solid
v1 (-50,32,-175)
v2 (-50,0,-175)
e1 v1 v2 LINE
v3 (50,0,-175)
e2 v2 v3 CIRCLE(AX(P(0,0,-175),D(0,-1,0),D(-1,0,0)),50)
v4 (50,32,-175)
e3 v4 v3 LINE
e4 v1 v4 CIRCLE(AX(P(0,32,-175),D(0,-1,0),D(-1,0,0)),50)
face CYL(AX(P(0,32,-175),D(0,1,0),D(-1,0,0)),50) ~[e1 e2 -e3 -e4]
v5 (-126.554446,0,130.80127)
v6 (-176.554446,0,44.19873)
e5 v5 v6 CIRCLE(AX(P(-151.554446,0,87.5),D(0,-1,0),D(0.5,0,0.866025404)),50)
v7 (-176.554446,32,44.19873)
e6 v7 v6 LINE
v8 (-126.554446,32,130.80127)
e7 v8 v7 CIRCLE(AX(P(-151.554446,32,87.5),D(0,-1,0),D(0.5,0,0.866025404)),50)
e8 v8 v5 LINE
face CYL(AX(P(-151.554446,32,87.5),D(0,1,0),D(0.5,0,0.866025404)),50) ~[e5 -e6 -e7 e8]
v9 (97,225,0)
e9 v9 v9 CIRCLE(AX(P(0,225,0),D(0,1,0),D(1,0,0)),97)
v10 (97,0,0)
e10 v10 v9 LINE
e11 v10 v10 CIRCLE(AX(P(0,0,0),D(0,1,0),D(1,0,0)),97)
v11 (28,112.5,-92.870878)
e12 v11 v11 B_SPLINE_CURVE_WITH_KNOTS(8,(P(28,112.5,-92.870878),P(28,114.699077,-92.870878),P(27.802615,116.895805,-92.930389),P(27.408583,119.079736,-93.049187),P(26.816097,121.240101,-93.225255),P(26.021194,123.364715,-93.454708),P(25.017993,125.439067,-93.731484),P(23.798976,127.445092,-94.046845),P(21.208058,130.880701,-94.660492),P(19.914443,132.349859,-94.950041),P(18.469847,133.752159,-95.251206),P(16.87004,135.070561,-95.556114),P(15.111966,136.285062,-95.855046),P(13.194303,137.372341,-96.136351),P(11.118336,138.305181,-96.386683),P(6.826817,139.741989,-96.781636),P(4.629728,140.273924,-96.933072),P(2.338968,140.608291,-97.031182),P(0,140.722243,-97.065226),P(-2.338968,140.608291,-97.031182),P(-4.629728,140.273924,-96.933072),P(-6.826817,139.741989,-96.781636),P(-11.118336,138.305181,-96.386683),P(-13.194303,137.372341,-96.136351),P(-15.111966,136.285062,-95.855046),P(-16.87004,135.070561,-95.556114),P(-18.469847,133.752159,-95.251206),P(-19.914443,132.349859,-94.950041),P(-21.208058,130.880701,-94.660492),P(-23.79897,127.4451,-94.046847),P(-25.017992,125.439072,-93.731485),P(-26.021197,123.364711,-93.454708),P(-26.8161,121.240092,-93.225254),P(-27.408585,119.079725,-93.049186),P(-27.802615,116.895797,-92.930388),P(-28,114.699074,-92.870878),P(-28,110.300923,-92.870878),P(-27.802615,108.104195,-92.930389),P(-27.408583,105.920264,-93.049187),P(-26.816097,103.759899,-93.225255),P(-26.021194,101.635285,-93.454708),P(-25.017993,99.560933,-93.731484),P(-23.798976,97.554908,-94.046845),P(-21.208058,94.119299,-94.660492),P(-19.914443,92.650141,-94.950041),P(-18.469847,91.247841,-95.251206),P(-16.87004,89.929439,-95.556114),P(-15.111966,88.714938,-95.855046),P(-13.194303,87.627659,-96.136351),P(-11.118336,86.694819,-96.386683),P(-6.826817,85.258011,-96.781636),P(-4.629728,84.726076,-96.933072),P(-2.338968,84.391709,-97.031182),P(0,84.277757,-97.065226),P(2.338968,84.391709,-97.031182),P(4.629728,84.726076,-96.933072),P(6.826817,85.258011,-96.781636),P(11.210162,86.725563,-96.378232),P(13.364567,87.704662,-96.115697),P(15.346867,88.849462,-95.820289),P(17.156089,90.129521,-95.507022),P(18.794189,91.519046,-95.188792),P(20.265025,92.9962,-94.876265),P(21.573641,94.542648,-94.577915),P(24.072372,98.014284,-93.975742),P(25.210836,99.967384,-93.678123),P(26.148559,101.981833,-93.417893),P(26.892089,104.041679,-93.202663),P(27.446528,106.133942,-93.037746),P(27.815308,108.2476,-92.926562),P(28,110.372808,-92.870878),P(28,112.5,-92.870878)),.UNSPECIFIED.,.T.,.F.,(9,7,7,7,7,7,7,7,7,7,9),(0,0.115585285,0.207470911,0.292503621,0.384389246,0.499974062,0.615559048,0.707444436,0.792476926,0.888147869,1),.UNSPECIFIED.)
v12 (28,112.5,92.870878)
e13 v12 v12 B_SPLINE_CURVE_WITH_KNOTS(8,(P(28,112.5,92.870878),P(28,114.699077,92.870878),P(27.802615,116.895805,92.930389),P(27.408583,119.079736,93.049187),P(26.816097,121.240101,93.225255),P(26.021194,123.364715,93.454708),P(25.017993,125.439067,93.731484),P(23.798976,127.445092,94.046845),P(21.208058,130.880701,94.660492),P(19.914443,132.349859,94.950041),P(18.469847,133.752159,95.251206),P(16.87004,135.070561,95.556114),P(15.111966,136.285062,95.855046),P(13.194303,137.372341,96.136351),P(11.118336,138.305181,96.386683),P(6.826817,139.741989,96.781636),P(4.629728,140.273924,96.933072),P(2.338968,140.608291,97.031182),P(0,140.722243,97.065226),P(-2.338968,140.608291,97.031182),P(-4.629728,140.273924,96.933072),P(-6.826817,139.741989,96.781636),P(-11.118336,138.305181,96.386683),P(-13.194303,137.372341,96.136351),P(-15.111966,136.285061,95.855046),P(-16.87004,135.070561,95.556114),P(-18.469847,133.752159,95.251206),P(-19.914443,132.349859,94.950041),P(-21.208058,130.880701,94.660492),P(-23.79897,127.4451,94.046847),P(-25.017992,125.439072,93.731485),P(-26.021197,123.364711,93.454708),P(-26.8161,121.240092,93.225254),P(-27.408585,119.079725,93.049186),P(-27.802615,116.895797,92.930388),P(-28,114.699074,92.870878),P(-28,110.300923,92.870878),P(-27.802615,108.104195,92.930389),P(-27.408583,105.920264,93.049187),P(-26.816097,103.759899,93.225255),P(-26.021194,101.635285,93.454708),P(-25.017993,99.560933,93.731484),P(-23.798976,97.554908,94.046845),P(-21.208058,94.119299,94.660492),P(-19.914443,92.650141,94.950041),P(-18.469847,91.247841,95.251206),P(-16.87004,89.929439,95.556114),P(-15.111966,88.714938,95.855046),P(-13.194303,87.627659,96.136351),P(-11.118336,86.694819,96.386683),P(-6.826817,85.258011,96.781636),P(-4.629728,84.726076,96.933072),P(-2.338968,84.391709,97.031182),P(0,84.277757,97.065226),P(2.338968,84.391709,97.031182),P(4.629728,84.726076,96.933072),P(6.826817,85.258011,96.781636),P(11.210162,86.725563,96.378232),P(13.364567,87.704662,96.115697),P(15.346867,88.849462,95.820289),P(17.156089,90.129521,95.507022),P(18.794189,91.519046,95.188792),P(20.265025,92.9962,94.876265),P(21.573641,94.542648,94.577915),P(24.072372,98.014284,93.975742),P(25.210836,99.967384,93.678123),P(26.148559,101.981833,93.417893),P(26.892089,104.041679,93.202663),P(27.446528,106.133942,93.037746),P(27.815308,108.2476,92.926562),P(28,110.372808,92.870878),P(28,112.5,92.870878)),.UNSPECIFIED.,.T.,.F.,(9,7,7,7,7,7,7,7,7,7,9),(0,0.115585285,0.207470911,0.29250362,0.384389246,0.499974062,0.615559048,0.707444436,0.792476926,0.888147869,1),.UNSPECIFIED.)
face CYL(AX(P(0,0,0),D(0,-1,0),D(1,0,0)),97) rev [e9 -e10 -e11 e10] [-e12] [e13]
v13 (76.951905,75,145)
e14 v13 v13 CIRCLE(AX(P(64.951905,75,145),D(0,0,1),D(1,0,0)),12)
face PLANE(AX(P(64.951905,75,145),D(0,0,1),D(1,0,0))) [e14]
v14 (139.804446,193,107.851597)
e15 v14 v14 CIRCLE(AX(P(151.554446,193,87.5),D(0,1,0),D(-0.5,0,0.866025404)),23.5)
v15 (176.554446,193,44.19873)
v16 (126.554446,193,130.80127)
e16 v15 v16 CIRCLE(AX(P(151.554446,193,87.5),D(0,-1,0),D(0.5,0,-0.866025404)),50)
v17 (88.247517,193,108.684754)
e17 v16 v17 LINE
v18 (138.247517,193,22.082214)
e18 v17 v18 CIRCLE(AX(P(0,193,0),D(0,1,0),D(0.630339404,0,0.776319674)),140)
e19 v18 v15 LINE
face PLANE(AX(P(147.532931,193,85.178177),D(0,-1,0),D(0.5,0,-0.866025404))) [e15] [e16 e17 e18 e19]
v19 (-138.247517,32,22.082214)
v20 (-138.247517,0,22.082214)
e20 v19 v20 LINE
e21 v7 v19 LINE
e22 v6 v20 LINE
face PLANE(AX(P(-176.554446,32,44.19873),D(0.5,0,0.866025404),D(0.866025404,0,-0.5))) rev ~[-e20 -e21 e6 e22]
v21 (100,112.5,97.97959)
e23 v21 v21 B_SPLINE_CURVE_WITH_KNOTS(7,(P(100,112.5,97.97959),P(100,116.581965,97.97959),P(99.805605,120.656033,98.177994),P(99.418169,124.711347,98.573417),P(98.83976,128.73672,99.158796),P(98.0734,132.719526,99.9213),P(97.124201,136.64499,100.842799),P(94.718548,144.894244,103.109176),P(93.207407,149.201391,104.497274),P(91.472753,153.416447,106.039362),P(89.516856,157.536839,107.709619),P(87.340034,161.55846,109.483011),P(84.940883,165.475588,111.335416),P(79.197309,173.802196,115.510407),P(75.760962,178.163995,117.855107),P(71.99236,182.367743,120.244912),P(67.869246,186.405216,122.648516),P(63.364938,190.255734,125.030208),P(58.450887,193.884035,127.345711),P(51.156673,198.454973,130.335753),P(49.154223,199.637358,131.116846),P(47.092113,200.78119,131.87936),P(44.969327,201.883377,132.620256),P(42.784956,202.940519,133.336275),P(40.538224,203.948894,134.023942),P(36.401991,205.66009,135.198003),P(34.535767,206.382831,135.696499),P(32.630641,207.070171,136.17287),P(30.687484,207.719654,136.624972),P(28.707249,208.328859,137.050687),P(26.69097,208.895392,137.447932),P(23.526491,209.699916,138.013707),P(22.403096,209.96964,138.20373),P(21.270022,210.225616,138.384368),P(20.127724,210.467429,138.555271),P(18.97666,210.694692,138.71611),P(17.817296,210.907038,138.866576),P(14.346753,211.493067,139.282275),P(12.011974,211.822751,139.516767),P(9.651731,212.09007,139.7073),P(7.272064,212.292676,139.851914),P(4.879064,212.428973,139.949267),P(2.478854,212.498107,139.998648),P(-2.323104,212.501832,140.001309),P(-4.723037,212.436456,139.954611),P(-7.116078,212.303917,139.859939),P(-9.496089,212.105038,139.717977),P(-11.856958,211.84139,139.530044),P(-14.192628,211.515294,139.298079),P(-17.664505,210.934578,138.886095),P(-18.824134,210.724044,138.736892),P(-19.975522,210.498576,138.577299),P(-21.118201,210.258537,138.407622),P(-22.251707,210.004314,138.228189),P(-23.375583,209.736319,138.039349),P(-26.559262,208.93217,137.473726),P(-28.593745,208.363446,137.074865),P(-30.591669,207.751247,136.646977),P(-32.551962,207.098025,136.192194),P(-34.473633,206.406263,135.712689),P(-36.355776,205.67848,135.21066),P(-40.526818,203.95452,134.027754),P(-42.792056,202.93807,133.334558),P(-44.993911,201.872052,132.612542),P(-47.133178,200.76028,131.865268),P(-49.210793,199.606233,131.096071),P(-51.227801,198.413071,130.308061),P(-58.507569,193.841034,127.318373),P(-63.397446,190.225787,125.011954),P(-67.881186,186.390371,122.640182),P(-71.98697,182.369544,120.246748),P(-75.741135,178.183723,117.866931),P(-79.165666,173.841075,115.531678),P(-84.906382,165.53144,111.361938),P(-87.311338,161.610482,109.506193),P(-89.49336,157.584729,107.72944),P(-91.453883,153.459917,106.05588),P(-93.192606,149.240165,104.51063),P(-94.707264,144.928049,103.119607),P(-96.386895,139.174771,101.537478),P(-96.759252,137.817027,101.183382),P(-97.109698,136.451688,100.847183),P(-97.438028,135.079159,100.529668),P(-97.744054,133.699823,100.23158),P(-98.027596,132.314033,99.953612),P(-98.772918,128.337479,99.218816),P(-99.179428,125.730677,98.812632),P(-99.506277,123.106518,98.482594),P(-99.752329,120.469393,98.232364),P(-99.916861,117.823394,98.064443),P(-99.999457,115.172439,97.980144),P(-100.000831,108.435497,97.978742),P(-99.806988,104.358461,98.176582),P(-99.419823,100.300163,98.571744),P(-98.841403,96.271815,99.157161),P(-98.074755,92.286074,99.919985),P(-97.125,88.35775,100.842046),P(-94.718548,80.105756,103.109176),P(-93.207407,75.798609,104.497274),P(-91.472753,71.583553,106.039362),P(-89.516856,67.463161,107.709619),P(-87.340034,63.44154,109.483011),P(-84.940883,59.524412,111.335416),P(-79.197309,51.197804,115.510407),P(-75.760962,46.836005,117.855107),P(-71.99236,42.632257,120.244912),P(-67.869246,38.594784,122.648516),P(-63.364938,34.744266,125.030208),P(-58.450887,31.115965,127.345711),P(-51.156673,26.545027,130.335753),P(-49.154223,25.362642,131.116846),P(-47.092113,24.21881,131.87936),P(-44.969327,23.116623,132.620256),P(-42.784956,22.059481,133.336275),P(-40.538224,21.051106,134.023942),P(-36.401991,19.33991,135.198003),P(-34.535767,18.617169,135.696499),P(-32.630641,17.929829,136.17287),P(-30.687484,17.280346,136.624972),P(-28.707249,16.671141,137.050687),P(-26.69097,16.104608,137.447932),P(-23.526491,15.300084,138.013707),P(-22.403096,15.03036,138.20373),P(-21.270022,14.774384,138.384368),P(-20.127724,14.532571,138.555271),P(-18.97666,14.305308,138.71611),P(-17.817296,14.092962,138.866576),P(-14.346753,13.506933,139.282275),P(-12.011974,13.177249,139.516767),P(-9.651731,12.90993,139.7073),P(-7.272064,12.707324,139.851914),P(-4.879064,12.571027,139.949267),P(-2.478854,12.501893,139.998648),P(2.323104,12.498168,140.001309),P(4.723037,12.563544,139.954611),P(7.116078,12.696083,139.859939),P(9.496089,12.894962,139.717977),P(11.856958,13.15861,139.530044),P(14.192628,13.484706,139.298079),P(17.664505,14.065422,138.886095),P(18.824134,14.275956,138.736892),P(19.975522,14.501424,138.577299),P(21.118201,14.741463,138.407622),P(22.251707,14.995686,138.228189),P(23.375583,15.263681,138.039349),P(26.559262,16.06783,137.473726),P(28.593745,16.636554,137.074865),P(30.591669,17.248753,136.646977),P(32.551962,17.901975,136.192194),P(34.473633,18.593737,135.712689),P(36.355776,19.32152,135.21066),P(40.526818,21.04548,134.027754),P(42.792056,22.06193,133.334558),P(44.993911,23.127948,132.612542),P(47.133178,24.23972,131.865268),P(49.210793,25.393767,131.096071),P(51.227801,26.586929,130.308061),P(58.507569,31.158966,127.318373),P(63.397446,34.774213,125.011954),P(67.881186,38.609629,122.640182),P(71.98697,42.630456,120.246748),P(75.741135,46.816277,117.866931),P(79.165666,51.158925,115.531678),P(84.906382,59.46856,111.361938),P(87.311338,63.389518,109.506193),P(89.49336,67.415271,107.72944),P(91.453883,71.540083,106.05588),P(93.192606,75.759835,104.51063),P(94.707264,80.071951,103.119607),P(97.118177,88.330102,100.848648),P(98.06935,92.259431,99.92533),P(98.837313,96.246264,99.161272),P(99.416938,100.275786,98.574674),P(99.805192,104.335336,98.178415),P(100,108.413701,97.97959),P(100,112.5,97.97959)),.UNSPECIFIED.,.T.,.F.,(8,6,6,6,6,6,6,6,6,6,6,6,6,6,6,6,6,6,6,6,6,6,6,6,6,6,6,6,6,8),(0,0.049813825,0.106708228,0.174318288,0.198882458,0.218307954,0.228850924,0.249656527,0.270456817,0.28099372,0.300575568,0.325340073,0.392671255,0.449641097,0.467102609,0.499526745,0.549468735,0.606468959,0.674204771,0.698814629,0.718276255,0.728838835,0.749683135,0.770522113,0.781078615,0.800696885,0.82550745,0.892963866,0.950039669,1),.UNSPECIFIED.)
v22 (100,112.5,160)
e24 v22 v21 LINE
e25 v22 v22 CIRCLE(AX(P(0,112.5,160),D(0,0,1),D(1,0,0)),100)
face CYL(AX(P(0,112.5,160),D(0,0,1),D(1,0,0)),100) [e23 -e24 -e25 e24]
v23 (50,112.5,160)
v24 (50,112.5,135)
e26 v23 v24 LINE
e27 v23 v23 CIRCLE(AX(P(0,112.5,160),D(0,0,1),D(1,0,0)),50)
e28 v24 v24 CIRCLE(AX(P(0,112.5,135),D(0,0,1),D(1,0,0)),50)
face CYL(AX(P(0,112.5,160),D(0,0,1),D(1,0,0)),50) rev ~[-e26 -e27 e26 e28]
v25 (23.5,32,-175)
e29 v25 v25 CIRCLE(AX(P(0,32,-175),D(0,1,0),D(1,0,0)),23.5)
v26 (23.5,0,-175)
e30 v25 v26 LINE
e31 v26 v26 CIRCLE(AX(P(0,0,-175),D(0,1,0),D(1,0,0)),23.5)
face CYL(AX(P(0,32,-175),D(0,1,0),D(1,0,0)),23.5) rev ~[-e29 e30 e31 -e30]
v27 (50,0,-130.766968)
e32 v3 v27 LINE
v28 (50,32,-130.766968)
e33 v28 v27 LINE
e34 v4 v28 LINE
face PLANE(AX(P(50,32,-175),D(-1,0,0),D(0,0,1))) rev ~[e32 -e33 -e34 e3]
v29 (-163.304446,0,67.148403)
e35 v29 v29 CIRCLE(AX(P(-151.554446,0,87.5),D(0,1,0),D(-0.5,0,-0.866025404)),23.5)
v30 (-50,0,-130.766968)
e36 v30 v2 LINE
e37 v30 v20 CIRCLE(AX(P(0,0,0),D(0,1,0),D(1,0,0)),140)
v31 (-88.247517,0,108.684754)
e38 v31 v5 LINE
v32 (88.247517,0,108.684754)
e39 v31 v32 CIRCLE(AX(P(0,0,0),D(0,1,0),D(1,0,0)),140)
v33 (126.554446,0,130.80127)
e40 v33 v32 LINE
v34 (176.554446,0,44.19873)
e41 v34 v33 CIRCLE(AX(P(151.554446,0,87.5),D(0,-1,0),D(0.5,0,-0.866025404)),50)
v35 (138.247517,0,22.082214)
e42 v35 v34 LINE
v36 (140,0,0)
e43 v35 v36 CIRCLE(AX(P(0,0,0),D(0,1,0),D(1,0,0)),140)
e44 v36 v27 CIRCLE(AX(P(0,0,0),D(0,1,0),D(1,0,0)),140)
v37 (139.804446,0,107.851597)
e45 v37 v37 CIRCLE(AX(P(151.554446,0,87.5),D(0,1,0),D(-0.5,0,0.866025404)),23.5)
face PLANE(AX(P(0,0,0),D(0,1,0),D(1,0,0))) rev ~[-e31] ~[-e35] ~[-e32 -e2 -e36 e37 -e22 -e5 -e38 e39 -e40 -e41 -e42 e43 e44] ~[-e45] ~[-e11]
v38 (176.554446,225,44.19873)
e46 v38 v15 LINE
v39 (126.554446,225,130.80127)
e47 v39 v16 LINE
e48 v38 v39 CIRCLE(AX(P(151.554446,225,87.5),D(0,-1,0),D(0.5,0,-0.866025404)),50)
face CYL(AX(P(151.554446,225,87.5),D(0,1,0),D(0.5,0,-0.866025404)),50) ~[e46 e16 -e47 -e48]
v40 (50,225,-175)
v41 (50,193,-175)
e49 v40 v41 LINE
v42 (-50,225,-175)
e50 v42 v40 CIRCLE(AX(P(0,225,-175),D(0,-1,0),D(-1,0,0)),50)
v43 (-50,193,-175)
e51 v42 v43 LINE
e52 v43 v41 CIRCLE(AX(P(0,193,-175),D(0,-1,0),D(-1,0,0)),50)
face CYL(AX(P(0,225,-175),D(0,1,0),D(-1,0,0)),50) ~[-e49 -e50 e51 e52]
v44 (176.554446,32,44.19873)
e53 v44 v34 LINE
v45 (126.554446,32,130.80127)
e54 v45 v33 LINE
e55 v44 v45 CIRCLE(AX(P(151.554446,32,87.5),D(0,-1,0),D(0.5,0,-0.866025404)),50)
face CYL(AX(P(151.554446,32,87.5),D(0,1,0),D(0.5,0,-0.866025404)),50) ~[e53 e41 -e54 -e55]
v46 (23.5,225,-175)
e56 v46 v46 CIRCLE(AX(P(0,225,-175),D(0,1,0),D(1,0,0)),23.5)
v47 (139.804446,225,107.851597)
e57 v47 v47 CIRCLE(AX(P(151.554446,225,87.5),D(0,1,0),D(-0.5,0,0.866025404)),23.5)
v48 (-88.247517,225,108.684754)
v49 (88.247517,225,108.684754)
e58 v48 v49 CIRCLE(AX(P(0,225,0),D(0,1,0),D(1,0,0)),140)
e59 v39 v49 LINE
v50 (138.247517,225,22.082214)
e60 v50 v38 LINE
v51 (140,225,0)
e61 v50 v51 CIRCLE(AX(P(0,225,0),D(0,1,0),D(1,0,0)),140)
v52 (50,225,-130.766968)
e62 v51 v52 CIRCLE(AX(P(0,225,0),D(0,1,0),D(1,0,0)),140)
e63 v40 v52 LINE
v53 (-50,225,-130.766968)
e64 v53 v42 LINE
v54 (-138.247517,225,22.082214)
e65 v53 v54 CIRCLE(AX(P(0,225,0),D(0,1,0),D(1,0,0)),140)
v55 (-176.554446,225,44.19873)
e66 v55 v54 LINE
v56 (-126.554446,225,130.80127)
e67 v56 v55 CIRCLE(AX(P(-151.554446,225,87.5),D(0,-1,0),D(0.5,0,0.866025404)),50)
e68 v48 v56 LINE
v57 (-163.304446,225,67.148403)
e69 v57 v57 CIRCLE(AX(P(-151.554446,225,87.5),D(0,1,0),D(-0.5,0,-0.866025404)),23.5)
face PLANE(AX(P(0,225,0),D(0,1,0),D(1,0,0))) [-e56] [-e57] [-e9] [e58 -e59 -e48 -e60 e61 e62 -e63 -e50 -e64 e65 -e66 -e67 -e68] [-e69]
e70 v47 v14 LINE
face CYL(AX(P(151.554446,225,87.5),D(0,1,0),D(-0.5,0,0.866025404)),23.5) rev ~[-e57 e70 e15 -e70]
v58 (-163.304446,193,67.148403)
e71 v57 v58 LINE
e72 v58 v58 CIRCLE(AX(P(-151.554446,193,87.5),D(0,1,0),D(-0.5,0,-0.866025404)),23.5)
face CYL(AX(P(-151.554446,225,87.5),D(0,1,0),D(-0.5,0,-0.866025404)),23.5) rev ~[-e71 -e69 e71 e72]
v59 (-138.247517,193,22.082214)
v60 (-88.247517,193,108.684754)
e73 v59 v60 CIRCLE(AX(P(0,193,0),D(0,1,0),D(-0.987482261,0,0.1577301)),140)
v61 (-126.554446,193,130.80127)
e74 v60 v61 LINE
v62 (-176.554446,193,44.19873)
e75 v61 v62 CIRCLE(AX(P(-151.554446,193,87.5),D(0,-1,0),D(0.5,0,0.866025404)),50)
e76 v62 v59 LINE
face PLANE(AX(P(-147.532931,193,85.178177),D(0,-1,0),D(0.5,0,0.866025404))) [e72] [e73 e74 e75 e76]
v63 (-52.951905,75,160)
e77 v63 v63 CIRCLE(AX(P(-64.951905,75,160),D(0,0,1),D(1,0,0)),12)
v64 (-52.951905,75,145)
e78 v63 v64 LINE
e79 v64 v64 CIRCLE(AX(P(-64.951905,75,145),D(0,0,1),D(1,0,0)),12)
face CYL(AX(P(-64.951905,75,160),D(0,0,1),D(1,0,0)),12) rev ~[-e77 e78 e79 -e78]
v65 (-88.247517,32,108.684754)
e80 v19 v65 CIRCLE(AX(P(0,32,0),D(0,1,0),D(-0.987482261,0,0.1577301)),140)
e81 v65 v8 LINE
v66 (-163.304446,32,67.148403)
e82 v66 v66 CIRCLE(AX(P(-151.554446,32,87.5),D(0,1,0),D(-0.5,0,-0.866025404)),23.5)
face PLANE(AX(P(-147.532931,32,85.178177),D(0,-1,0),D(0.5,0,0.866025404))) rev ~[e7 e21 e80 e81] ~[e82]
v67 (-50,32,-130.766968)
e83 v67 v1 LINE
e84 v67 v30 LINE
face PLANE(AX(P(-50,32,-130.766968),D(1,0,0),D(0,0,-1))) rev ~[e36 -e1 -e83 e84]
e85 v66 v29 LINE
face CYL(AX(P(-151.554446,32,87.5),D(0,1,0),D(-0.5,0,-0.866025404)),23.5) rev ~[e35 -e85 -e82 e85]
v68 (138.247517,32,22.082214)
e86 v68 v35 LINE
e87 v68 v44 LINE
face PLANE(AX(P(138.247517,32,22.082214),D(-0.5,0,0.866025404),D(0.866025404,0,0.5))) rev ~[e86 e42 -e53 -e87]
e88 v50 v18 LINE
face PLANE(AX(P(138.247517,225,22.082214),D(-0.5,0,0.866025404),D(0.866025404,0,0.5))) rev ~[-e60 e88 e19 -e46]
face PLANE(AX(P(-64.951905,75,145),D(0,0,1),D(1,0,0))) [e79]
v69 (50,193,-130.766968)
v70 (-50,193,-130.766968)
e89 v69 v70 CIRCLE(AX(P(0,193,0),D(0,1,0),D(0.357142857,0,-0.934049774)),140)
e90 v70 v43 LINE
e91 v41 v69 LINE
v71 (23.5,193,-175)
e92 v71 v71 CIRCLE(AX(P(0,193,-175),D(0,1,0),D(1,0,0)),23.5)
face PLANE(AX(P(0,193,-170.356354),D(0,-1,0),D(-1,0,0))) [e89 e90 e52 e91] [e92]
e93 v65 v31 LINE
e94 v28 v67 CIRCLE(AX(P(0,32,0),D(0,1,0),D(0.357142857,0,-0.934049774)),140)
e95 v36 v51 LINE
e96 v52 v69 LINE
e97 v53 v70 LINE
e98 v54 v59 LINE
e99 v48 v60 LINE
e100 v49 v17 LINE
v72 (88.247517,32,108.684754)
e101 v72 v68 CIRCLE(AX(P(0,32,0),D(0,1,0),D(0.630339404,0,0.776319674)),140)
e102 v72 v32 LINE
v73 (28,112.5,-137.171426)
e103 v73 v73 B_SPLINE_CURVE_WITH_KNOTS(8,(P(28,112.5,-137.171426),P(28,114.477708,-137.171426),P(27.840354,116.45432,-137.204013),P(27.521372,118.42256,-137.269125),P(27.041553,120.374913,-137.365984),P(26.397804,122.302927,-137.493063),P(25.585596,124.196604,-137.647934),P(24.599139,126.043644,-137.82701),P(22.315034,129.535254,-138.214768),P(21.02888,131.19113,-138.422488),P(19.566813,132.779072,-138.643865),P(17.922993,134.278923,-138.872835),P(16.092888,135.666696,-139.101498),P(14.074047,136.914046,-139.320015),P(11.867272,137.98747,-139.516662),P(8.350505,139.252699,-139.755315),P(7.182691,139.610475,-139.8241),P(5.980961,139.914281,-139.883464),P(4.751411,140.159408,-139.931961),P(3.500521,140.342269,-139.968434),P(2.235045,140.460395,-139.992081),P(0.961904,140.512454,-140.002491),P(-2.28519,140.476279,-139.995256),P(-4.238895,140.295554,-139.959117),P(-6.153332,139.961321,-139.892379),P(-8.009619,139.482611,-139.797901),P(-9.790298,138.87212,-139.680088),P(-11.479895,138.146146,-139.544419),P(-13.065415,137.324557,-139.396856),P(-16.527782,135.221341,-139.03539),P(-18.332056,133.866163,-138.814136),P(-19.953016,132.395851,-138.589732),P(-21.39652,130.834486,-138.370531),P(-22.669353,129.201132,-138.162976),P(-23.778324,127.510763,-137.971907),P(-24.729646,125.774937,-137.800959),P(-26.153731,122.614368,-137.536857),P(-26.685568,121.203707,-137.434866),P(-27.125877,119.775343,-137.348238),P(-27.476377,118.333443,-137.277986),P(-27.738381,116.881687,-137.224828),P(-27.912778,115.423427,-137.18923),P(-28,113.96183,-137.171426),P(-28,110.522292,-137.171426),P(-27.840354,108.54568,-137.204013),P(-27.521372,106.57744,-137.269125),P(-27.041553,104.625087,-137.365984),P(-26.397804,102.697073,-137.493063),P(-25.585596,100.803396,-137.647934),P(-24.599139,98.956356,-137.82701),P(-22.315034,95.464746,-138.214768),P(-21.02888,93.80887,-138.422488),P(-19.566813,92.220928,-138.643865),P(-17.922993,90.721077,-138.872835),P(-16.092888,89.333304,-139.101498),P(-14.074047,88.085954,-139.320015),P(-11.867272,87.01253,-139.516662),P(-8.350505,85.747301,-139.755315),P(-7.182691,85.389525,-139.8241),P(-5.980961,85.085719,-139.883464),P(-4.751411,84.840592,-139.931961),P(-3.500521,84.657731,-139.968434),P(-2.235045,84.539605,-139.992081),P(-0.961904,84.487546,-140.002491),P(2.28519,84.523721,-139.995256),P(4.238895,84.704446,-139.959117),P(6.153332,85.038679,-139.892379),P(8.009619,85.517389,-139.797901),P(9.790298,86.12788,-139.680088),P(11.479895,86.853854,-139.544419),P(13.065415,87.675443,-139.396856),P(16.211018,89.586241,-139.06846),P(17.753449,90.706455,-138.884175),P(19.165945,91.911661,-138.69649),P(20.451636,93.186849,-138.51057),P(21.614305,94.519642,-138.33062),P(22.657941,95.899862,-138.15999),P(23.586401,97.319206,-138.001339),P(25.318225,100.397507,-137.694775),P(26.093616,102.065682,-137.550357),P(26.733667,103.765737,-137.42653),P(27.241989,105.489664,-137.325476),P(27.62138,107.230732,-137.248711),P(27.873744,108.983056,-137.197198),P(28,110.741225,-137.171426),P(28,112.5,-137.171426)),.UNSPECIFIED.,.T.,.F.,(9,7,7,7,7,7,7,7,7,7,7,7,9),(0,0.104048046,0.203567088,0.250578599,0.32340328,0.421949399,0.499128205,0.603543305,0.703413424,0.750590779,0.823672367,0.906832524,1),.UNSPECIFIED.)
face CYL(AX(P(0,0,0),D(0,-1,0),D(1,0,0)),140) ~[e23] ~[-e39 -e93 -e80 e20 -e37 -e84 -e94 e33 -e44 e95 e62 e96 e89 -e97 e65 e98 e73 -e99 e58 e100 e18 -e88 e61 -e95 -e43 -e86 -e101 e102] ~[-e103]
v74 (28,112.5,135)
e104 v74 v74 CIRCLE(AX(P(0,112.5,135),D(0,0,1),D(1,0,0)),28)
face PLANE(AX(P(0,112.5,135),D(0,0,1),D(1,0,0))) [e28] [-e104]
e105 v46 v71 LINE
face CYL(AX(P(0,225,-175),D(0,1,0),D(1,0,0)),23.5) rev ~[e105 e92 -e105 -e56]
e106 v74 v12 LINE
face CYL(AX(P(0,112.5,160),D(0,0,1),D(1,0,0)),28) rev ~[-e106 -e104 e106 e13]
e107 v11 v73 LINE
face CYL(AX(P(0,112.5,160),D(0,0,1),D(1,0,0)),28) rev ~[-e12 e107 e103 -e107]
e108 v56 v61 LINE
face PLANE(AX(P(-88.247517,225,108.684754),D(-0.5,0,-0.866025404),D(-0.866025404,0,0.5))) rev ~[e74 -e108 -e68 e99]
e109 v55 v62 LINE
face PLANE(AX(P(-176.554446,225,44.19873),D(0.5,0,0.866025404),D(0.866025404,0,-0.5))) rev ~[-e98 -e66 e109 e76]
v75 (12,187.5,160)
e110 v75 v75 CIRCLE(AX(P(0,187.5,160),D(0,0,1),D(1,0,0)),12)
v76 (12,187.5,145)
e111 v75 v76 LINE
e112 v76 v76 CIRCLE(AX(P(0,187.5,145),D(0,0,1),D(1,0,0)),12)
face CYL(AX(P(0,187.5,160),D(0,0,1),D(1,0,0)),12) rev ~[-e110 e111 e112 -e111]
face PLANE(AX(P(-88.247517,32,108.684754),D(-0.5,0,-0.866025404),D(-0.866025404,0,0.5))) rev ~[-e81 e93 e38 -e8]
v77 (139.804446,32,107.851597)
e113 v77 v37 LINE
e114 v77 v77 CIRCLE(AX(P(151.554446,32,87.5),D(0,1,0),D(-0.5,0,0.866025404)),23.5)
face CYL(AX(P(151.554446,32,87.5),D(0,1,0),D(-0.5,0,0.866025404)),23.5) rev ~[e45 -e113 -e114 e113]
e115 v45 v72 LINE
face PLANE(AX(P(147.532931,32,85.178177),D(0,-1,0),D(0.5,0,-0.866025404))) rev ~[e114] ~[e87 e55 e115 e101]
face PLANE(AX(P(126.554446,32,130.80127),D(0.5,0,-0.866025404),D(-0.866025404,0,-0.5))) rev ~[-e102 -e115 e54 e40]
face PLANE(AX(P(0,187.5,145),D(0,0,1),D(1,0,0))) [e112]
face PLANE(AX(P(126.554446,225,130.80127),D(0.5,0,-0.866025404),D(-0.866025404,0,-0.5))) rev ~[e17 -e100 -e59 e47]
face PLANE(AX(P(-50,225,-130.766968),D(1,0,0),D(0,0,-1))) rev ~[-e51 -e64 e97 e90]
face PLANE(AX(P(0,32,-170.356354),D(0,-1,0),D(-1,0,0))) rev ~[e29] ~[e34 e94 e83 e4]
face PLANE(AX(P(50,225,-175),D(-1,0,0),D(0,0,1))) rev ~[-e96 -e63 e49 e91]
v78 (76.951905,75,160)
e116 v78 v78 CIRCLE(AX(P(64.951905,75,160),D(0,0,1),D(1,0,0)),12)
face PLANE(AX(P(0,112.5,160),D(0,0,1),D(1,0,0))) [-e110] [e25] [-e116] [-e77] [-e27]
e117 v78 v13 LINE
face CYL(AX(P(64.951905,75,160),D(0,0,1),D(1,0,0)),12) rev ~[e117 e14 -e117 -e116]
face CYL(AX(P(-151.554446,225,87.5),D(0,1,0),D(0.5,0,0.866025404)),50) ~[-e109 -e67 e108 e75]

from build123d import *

# Parameters (mm, degrees)
SKETCH1_R                   = 140
SKETCH1_R_2                 = 97
BOSS_EXTRUDE1_DEPTH         = 225
SKETCH2_R                   = 23.5
BOSS_EXTRUDE2_DEPTH         = 32
CIRPATTERN1_COUNT           = 3
LPATTERN2_COUNT             = 2
LPATTERN2_PITCH             = 193
CIRPATTERN2_COPY_1_SKETCH_R = 23.5
CIRPATTERN2_COPY_1_DEPTH    = 32
CIRPATTERN2_COPY_2_SKETCH_R = 23.5
CIRPATTERN2_COPY_2_DEPTH    = 32
CIRPATTERN2_COPY_3_SKETCH_R = 23.5
CIRPATTERN2_COPY_3_DEPTH    = 32
CIRPATTERN2_COPY_4_SKETCH_R = 23.5
CIRPATTERN2_COPY_4_DEPTH    = 32
BOSS_EXTRUDE3_REACH         = 387
SKETCH3_R                   = 100
SKETCH4_R                   = 28
CUT_EXTRUDE1_DEPTH          = 386
SKETCH5_R                   = 50
CUT_EXTRUDE2_DEPTH          = 25
SKETCH6_R                   = 12
CUT_EXTRUDE3_DEPTH          = 15


with BuildPart() as part:
    # Sketch1 → Boss-Extrude1 (new body)
    with BuildSketch(Plane(origin=(0, 0, 0), x_dir=(1, 0, 0), z_dir=(0, 1, 0))):
        Circle(SKETCH1_R)
        Circle(SKETCH1_R_2, mode=Mode.SUBTRACT)
    extrude(amount=BOSS_EXTRUDE1_DEPTH)

    # Sketch2 → Boss-Extrude2 (add)
    with BuildSketch(Plane(origin=(0, 225, 0), x_dir=(1, 0, 0), z_dir=(0, 1, 0))):
        with BuildLine():
            Line((-50, 130.766968306), (-50, 175))
            ThreePointArc((-50, 175), (0, 225), (50, 175))
            Line((50, 175), (50, 130.766968306))
            ThreePointArc((50, 130.766968306), (0, 140), (-50, 130.766968306))
        make_face()
        with Locations((0, 175)):
            Circle(SKETCH2_R, mode=Mode.SUBTRACT)
    boss_extrude2 = extrude(amount=-BOSS_EXTRUDE2_DEPTH)

    # CirPattern1: Boss-Extrude2 ×3 about axis
    cirpattern1_axis = Axis((0, 0, 0), (0, 1, 0))
    for i in range(1, CIRPATTERN1_COUNT):
        add(boss_extrude2.rotate(cirpattern1_axis, i * 360 / CIRPATTERN1_COUNT))

    # LPattern2: Boss-Extrude2 ×2
    with Locations(*[(0, -i * LPATTERN2_PITCH, 0) for i in range(1, LPATTERN2_COUNT)]):
        add(boss_extrude2)

    # CirPattern2 copy 1 sketch → CirPattern2 copy 1 (add)
    with BuildSketch(Plane(origin=(0, 32, 0), x_dir=(-0.5, 0, -0.866025404), z_dir=(0, 1, 0))):
        with BuildLine():
            Line((-50, 130.766968306), (-50, 175))
            ThreePointArc((-50, 175), (0, 225), (50, 175))
            Line((50, 175), (50, 130.766968306))
            ThreePointArc((50, 130.766968306), (0, 140), (-50, 130.766968306))
        make_face()
        with Locations((0, 175)):
            Circle(CIRPATTERN2_COPY_1_SKETCH_R, mode=Mode.SUBTRACT)
    extrude(amount=-CIRPATTERN2_COPY_1_DEPTH)

    # CirPattern2 copy 2 sketch → CirPattern2 copy 2 (add)
    with BuildSketch(Plane(origin=(0, 32, 0), x_dir=(-0.5, 0, 0.866025404), z_dir=(0, 1, 0))):
        with BuildLine():
            Line((-50, 130.766968306), (-50, 175))
            ThreePointArc((-50, 175), (0, 225), (50, 175))
            Line((50, 175), (50, 130.766968306))
            ThreePointArc((50, 130.766968306), (0, 140), (-50, 130.766968306))
        make_face()
        with Locations((0, 175)):
            Circle(CIRPATTERN2_COPY_2_SKETCH_R, mode=Mode.SUBTRACT)
    extrude(amount=-CIRPATTERN2_COPY_2_DEPTH)

    # CirPattern2 copy 3 sketch → CirPattern2 copy 3 (add)
    with BuildSketch(Plane(origin=(0, 225, 0), x_dir=(-0.5, 0, -0.866025404), z_dir=(0, 1, 0))):
        with BuildLine():
            Line((-50, 130.766968306), (-50, 175))
            ThreePointArc((-50, 175), (0, 225), (50, 175))
            Line((50, 175), (50, 130.766968306))
            ThreePointArc((50, 130.766968306), (0, 140), (-50, 130.766968306))
        make_face()
        with Locations((0, 175)):
            Circle(CIRPATTERN2_COPY_3_SKETCH_R, mode=Mode.SUBTRACT)
    extrude(amount=-CIRPATTERN2_COPY_3_DEPTH)

    # CirPattern2 copy 4 sketch → CirPattern2 copy 4 (add)
    with BuildSketch(Plane(origin=(0, 225, 0), x_dir=(-0.5, 0, 0.866025404), z_dir=(0, 1, 0))):
        with BuildLine():
            Line((-50, 130.766968306), (-50, 175))
            ThreePointArc((-50, 175), (0, 225), (50, 175))
            Line((50, 175), (50, 130.766968306))
            ThreePointArc((50, 130.766968306), (0, 140), (-50, 130.766968306))
        make_face()
        with Locations((0, 175)):
            Circle(CIRPATTERN2_COPY_4_SKETCH_R, mode=Mode.SUBTRACT)
    extrude(amount=-CIRPATTERN2_COPY_4_DEPTH)

    # Sketch3 → Boss-Extrude3 (add, up to next)
    with BuildSketch(Plane.XY.offset(160), mode=Mode.PRIVATE) as boss_extrude3_sk1:
        with Locations((0, 112.5)):
            Circle(SKETCH3_R)
    boss_extrude3_tool1 = extrude(boss_extrude3_sk1.sketch, amount=-BOSS_EXTRUDE3_REACH, mode=Mode.PRIVATE) - part.part
    add(boss_extrude3_tool1.solids().sort_by_distance((0, 112.5, 160))[0])

    # Sketch4 → Cut-Extrude1 (cut, through all)
    with BuildSketch(Plane.XY.offset(160)):
        with Locations((0, 112.5)):
            Circle(SKETCH4_R)
    extrude(amount=-CUT_EXTRUDE1_DEPTH, mode=Mode.SUBTRACT)

    # Sketch5 → Cut-Extrude2 (cut)
    with BuildSketch(Plane.XY.offset(160)):
        with Locations((0, 112.5)):
            Circle(SKETCH5_R)
    extrude(amount=-CUT_EXTRUDE2_DEPTH, mode=Mode.SUBTRACT)

    # Sketch6 → Cut-Extrude3 (cut)
    with BuildSketch(Plane.XY.offset(160)):
        with Locations((0, 187.5)):
            Circle(SKETCH6_R)
        with Locations((64.951905284, 75)):
            Circle(SKETCH6_R)
        with Locations((-64.951905284, 75)):
            Circle(SKETCH6_R)
    extrude(amount=-CUT_EXTRUDE3_DEPTH, mode=Mode.SUBTRACT)


solid = part.part
